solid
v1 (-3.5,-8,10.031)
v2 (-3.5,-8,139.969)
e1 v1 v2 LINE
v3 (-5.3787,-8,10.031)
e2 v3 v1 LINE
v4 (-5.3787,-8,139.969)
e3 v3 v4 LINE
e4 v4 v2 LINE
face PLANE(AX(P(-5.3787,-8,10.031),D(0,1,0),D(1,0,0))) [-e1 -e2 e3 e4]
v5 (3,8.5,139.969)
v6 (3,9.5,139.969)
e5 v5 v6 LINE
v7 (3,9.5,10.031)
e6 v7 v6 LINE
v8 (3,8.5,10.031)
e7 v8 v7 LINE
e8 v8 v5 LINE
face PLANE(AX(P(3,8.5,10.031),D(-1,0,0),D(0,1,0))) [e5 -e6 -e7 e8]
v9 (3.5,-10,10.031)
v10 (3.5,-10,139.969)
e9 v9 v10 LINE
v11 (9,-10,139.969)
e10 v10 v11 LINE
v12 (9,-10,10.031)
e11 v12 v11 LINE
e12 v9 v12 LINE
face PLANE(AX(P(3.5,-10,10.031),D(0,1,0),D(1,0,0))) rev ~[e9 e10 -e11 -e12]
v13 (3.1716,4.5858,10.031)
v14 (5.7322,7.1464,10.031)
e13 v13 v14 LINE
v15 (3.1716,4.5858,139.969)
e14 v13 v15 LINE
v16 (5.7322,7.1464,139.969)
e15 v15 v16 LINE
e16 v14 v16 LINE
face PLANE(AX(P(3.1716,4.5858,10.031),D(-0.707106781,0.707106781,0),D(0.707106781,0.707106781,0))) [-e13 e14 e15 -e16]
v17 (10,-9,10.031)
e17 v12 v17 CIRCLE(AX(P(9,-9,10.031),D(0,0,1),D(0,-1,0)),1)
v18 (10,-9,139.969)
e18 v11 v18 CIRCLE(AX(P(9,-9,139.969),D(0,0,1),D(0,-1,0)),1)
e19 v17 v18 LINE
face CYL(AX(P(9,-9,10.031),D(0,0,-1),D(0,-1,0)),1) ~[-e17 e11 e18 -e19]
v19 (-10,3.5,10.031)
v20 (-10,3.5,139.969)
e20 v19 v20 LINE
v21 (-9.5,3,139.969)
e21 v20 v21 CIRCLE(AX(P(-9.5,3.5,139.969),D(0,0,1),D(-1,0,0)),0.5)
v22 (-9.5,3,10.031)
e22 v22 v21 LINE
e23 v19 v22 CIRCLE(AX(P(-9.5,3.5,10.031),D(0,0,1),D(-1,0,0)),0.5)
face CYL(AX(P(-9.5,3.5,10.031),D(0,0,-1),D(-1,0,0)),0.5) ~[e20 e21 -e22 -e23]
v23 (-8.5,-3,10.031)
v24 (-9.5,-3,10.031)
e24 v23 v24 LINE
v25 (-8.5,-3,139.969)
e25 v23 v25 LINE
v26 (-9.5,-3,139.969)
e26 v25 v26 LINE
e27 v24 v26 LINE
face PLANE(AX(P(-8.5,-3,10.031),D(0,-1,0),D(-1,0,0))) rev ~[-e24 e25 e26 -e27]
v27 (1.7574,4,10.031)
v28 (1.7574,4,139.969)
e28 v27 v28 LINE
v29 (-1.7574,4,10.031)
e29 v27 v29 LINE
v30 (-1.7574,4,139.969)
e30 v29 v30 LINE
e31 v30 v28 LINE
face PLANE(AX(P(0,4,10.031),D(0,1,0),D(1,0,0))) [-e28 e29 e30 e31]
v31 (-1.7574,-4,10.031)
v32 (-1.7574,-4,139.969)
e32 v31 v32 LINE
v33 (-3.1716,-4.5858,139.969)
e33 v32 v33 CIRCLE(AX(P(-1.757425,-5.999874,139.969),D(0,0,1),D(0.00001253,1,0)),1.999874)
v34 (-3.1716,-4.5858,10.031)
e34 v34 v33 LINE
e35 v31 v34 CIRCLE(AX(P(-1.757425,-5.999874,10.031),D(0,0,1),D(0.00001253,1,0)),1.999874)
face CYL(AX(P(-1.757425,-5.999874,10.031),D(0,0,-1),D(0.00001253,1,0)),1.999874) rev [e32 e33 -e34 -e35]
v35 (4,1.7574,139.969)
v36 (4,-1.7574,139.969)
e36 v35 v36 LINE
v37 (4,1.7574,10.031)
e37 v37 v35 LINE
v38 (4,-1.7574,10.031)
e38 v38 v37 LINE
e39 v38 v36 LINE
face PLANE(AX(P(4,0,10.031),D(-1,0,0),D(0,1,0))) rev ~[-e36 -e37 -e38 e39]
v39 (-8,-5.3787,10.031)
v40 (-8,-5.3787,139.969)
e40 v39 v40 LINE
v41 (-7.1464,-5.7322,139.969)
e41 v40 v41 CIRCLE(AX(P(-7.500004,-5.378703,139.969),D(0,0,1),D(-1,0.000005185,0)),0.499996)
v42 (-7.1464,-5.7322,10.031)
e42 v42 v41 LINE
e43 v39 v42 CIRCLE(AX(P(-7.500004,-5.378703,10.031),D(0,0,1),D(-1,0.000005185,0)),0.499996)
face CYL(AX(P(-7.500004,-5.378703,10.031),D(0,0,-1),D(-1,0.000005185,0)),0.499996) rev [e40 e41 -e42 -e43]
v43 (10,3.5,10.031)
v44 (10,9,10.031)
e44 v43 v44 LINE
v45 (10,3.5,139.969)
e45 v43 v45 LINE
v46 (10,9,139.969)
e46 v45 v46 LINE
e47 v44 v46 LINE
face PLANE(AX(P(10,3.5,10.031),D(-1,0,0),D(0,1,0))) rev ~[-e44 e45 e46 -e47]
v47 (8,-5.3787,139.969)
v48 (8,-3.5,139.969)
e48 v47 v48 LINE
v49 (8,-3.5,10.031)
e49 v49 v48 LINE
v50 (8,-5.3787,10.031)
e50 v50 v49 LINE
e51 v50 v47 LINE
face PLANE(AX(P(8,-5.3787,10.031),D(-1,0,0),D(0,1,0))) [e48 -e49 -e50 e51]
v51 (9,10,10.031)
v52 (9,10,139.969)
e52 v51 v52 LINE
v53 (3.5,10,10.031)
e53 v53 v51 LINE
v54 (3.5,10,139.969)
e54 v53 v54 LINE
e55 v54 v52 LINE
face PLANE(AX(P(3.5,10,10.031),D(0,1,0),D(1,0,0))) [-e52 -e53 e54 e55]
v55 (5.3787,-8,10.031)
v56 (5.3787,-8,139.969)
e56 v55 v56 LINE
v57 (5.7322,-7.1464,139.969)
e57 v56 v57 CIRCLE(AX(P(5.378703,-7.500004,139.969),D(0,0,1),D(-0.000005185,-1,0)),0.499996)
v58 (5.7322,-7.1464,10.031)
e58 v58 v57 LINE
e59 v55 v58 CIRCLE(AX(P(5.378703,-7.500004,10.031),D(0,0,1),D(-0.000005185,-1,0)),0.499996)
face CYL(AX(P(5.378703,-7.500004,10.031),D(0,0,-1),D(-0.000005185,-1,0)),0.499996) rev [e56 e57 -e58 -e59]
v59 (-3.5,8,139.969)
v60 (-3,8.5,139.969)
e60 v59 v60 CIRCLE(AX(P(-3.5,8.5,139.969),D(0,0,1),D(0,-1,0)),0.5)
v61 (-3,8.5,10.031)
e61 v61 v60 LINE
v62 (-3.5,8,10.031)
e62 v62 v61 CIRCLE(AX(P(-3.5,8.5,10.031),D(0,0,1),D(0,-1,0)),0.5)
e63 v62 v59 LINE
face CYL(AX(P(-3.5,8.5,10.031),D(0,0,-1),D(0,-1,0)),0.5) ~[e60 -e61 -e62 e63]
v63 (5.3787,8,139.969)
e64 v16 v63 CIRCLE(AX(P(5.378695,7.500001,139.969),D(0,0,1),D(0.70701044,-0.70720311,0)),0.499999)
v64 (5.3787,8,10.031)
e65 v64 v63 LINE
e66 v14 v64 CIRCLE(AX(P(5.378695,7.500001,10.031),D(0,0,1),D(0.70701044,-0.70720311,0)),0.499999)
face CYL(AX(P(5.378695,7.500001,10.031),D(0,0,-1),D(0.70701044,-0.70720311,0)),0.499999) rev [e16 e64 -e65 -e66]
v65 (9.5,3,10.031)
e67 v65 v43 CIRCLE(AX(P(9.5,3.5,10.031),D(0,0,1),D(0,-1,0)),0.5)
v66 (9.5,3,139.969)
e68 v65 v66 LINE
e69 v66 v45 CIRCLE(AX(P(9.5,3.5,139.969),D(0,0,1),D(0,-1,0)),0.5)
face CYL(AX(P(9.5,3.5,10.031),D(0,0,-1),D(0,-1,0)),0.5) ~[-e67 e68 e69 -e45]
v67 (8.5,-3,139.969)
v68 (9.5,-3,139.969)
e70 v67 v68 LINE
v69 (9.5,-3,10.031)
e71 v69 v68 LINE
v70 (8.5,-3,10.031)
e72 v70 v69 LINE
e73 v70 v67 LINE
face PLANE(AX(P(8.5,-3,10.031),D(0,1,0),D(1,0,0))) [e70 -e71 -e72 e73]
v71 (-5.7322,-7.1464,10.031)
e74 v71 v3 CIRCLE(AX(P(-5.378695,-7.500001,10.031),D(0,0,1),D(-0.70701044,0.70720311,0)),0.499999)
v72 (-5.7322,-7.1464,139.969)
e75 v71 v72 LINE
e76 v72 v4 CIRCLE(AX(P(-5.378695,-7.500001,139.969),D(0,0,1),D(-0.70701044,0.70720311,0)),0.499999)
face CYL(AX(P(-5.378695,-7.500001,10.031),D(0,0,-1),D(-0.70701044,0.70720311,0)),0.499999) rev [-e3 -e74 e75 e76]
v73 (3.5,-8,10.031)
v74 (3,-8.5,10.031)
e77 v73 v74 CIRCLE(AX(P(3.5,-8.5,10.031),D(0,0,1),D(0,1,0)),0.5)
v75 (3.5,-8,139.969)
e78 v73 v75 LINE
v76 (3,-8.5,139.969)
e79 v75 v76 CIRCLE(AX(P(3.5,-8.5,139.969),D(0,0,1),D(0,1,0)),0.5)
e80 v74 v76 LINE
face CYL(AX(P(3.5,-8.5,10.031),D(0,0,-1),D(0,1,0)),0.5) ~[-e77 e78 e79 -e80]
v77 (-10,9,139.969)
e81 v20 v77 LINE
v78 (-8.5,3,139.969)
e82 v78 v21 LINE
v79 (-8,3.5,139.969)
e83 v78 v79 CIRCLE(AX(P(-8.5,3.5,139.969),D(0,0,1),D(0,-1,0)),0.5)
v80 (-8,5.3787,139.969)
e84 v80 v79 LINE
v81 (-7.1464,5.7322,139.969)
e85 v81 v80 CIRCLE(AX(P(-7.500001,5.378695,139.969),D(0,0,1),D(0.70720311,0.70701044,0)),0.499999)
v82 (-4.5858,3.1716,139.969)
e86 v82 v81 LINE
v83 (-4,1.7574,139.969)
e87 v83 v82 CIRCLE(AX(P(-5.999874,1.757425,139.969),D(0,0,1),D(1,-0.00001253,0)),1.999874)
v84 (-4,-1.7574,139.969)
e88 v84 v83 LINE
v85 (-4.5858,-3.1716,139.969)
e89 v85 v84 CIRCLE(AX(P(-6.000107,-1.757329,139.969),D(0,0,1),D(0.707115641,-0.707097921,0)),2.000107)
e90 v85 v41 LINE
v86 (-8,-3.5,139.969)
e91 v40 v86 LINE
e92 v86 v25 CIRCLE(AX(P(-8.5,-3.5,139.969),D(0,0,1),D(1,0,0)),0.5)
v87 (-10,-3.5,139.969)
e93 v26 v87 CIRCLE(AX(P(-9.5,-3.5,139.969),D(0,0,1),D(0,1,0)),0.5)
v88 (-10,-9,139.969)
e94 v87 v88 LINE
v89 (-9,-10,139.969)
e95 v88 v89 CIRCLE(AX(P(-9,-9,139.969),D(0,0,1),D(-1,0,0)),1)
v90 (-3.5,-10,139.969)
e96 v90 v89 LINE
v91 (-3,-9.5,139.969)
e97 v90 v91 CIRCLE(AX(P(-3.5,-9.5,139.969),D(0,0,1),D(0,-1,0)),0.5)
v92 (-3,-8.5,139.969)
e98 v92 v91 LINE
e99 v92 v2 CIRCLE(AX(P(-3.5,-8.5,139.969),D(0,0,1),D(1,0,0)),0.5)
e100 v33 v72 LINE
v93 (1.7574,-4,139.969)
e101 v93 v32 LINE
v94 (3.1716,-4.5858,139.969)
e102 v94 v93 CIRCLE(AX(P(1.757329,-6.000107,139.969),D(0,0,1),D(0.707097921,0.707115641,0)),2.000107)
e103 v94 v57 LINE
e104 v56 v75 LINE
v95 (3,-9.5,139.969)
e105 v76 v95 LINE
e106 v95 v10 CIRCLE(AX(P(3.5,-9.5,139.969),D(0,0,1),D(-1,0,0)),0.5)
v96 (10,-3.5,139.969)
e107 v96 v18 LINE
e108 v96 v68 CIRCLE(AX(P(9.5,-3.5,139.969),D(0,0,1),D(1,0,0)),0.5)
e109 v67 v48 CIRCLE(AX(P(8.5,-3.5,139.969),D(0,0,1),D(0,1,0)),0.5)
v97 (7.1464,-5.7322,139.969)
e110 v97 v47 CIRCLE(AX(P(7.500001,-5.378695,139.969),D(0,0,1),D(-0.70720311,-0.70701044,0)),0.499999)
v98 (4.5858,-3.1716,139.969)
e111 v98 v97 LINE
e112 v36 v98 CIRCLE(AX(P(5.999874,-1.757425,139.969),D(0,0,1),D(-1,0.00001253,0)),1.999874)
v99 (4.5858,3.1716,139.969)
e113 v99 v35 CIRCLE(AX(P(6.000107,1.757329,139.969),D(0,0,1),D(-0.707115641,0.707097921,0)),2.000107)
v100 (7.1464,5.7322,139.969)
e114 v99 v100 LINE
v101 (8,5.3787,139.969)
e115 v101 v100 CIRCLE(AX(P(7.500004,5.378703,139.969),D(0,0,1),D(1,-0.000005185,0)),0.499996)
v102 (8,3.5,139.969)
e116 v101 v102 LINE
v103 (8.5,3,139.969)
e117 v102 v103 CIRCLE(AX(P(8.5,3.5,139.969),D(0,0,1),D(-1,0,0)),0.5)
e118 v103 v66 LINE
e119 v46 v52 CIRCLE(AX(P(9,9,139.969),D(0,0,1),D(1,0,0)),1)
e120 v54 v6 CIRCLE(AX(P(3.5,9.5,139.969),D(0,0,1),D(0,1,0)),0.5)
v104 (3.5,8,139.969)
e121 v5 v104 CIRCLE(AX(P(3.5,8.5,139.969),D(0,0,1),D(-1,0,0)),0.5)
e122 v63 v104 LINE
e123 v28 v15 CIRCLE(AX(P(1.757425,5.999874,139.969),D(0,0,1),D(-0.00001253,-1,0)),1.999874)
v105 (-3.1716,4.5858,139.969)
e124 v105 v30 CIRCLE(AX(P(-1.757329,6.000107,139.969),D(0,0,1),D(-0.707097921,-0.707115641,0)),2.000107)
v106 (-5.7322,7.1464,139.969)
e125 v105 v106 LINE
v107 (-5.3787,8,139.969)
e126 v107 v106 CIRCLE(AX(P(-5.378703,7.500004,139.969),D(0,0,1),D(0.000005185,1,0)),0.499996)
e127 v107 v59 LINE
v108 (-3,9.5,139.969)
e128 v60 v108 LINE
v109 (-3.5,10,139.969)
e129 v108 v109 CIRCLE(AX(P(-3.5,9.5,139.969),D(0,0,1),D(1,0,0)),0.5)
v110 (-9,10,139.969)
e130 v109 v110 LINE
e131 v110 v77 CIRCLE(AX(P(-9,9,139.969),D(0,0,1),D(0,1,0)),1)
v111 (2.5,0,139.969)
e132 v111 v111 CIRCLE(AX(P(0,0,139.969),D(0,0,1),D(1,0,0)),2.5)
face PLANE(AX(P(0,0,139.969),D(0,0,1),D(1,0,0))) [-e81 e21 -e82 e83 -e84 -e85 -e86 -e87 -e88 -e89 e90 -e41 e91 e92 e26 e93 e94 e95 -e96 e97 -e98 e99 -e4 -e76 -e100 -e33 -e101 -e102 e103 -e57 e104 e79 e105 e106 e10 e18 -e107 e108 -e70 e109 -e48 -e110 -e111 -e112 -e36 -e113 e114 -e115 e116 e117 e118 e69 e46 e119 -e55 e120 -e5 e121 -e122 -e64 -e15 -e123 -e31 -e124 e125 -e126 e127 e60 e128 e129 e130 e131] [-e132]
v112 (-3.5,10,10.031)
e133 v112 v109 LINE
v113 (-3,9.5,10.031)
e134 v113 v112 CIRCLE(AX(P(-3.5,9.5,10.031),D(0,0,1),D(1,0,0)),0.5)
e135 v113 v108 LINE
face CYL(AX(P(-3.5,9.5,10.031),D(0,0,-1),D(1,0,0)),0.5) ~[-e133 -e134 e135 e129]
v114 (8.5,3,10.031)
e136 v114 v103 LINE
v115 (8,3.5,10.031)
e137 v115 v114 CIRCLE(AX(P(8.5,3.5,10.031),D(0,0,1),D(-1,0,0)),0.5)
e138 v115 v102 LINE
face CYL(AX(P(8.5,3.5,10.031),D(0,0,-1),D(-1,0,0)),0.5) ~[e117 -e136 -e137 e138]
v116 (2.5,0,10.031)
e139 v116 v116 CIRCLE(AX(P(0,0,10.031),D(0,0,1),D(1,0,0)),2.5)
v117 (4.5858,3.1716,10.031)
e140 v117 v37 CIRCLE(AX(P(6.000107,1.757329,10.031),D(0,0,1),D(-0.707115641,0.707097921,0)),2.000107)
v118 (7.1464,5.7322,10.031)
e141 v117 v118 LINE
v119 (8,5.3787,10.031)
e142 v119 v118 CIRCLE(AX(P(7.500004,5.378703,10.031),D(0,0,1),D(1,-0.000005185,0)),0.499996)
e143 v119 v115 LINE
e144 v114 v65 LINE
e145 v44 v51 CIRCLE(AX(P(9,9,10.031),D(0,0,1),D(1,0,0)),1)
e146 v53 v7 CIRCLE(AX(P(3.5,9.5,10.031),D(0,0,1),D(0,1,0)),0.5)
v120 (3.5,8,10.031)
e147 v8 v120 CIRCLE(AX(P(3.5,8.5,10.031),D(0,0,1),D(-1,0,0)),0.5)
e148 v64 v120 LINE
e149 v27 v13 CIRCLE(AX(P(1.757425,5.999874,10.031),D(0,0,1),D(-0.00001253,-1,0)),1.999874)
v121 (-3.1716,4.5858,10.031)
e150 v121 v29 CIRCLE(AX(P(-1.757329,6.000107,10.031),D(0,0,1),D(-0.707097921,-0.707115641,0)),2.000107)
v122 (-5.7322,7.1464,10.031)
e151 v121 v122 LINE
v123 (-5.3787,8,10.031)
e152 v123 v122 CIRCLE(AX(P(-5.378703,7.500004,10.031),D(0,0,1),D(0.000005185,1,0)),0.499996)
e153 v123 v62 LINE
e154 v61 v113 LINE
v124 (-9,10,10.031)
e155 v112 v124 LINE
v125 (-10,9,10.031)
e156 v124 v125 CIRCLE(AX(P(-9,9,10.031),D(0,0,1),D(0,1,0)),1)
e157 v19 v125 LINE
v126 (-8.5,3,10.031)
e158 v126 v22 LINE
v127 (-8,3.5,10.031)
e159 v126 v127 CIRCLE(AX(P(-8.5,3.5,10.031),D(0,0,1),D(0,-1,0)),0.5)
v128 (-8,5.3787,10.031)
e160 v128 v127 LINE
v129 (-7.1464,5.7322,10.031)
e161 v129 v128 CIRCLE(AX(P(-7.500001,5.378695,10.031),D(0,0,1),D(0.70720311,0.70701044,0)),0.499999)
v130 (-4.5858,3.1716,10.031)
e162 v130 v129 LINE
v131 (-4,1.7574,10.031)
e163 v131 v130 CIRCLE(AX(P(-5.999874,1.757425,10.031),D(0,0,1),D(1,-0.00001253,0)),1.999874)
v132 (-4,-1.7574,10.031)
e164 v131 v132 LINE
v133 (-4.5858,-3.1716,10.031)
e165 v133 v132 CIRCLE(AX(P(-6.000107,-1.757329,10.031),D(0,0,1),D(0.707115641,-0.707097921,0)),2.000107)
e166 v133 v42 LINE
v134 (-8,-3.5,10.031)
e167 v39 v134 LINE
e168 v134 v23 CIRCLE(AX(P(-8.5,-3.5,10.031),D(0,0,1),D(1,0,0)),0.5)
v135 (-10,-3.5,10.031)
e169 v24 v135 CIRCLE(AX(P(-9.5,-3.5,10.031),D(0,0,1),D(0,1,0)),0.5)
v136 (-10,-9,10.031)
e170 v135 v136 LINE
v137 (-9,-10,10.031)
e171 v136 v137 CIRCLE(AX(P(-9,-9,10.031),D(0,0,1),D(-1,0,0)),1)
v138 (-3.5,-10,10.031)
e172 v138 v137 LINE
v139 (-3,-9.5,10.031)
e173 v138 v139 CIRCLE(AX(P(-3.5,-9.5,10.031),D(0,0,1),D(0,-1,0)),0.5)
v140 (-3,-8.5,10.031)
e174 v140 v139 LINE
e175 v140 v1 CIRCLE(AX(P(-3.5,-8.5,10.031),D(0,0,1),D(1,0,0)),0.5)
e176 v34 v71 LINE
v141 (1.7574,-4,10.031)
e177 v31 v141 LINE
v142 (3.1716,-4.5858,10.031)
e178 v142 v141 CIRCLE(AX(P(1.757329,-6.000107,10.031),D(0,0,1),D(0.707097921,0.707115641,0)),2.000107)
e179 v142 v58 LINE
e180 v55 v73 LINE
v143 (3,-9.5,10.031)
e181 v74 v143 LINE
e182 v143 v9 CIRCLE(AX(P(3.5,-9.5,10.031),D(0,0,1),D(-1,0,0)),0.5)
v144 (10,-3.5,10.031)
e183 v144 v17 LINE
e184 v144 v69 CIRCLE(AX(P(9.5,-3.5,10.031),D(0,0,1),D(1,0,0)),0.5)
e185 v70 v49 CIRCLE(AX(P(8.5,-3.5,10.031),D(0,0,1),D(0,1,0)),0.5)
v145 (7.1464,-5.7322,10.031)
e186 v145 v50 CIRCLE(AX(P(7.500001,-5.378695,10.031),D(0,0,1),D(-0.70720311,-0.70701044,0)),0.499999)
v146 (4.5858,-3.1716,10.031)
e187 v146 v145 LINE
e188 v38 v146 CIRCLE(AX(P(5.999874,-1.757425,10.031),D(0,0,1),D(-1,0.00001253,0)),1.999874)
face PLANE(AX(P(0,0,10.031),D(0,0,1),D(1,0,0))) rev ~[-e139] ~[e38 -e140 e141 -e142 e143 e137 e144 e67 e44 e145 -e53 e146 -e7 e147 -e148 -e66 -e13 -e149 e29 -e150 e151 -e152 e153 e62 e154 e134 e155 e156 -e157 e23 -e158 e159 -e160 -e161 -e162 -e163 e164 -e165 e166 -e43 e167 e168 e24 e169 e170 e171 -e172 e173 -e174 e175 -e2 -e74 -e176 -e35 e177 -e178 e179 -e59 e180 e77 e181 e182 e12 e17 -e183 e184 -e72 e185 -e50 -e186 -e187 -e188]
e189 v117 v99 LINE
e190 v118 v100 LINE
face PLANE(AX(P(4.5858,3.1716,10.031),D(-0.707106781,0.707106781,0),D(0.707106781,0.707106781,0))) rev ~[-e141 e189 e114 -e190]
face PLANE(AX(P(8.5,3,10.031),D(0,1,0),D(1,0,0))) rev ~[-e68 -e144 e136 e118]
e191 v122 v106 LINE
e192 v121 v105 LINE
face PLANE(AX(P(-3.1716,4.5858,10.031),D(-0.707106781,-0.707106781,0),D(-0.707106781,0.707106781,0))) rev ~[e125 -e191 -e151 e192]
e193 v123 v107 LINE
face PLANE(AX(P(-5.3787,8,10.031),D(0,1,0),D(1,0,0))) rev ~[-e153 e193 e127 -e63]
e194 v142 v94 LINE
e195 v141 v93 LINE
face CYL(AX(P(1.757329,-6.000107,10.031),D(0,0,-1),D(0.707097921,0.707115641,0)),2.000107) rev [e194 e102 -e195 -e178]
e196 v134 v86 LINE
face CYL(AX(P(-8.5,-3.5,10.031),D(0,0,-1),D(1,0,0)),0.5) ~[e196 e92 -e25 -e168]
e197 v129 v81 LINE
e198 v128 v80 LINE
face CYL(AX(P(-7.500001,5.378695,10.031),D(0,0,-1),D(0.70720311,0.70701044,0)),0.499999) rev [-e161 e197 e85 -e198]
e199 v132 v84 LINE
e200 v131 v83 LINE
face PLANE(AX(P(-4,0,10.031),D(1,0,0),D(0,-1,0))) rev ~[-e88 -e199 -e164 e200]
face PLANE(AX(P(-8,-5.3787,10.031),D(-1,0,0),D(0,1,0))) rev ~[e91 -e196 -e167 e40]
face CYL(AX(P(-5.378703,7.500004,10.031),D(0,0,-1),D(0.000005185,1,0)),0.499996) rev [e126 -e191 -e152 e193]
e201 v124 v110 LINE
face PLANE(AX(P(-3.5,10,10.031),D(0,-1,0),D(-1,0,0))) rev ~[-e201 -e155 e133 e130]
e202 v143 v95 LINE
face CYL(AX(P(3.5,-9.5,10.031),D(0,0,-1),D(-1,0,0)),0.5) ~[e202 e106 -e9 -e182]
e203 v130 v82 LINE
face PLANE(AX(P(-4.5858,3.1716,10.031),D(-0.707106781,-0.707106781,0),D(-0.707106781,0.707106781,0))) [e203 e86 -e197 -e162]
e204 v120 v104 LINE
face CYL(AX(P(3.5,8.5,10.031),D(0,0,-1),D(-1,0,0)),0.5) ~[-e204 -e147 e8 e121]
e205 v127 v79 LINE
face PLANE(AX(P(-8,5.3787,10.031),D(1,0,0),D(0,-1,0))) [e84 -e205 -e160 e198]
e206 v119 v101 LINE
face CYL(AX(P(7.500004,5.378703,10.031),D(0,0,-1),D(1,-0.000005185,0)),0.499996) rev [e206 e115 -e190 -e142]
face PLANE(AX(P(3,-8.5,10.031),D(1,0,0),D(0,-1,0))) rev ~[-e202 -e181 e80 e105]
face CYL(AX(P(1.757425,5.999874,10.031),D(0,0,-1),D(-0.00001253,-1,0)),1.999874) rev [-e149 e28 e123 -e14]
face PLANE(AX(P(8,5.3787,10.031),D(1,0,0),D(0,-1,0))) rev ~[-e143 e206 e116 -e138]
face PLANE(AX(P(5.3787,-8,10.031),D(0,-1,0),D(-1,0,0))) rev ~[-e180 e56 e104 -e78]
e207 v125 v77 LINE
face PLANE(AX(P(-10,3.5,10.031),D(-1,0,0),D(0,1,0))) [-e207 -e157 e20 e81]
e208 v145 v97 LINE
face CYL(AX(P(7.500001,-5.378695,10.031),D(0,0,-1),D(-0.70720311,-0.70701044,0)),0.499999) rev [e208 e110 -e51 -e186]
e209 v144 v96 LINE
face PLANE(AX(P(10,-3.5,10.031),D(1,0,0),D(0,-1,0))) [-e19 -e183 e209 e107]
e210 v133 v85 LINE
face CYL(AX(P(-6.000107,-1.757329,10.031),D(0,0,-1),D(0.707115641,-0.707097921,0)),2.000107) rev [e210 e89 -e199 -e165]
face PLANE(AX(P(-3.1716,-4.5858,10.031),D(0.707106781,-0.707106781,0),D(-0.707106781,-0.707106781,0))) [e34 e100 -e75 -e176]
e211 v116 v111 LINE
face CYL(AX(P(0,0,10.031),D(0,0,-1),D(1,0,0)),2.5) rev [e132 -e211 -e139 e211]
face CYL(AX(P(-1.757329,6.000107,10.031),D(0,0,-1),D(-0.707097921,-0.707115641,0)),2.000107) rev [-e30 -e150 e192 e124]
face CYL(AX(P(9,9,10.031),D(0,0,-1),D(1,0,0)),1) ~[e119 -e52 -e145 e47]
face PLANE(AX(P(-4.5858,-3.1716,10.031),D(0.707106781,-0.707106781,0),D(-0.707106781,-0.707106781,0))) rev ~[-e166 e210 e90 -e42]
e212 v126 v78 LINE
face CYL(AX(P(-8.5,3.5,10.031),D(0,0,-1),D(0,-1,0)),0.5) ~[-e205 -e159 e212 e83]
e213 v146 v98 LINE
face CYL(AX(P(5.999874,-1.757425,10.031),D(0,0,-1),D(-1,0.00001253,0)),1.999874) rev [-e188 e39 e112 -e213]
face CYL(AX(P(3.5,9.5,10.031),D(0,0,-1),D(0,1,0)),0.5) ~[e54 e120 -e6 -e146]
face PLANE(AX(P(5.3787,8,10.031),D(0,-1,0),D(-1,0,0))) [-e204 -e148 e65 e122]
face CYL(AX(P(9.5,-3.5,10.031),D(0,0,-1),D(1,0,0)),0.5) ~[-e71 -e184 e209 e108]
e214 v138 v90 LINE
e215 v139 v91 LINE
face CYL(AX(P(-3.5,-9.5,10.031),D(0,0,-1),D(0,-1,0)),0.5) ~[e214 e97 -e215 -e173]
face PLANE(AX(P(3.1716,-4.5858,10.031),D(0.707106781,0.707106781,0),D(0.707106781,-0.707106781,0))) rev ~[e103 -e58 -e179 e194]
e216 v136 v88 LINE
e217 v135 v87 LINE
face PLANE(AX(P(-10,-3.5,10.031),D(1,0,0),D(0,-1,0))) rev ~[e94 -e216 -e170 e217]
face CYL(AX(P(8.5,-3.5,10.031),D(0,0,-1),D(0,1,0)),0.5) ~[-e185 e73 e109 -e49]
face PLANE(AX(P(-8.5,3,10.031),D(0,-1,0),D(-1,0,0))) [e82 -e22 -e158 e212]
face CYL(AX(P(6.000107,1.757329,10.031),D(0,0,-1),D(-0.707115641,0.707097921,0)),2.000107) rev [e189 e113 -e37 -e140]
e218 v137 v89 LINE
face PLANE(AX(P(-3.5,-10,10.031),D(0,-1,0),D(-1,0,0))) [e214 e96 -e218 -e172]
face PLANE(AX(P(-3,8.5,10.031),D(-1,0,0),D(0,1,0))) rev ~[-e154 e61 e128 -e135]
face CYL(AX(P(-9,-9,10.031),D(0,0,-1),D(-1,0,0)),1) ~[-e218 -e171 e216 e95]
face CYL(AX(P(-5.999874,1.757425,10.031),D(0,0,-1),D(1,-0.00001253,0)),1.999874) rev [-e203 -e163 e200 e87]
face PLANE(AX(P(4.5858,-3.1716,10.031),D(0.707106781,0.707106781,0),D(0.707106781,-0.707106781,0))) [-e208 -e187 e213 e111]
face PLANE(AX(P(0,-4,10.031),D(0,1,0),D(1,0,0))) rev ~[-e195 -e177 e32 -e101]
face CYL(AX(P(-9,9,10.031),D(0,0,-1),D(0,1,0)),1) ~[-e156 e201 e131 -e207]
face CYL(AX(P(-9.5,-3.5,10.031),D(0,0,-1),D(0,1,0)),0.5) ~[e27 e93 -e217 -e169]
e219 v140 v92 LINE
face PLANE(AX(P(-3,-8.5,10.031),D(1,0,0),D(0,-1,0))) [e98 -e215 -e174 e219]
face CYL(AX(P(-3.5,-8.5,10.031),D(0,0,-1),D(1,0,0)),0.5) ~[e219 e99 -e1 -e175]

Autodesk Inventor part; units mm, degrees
ref_plane "Start Plane" through (0, 0, 10.031) normal (0, 0, 1) x (1, 0, 0)
ref_plane "End Plane" through (0, 0, 139.969) normal (0, 0, 1) x (1, 0, 0)
sketch "Sketch" plane through (0, 0, 0) normal (0, 0, 1) x (1, 0, 0)
  line L0 (0, 0) -> (2.5, 0) construction
  line L1 (0, 0) -> (0, 2.5) construction
  line L2 (0, 4) -> (0, -4) construction
  line L3 (0, 4) -> (1.7574, 4)
  arc A0 (1.7574, 4) -> (3.1716, 4.5858) centre (1.7574, 6) ccw
  line L4 (3.1716, 4.5858) -> (5.7322, 7.1464)
  line L5 (-4, 0) -> (4, 0) construction
  line L6 (4, 0) -> (4, 1.7574)
  arc A1 (4.5858, 3.1716) -> (4, 1.7574) centre (6, 1.7574) ccw
  line L7 (4.5858, 3.1716) -> (7.1464, 5.7322)
  line L8 (0, 0) -> (10, 10) construction
  line L9 (0, 0) -> (19.6827, 0) construction
  arc A2 (8, 5.3787) -> (7.1464, 5.7322) centre (7.5, 5.3787) ccw
  line L10 (8, 5.3787) -> (8, 3.5)
  arc A3 (8, 3.5) -> (8.5, 3) centre (8.5, 3.5) ccw
  line L11 (8.5, 3) -> (9.5, 3)
  arc A4 (9.5, 3) -> (10, 3.5) centre (9.5, 3.5) ccw
  line L12 (10, 3.5) -> (10, 9)
  line L13 (10, 9) -> (10, 10) construction
  arc A5 (5.7322, 7.1464) -> (5.3787, 8) centre (5.3787, 7.5) ccw
  line L14 (5.3787, 8) -> (3.5, 8)
  arc A6 (3, 8.5) -> (3.5, 8) centre (3.5, 8.5) ccw
  line L15 (3, 8.5) -> (3, 9.5)
  arc A7 (3.5, 10) -> (3, 9.5) centre (3.5, 9.5) ccw
  line L16 (3.5, 10) -> (9, 10)
  arc A8 (10, 9) -> (9, 10) centre (9, 9) ccw
  line L17 (0, 4) -> (-1.7574, 4)
  arc A9 (-3.1716, 4.5858) -> (-1.7574, 4) centre (-1.7574, 6) ccw
  line L18 (-3.1716, 4.5858) -> (-5.7322, 7.1464)
  line L19 (-4, 0) -> (-4, 1.7574)
  arc A10 (-4, 1.7574) -> (-4.5858, 3.1716) centre (-6, 1.7574) ccw
  line L20 (-4.5858, 3.1716) -> (-7.1464, 5.7322)
  arc A11 (-7.1464, 5.7322) -> (-8, 5.3787) centre (-7.5, 5.3787) ccw
  line L21 (-8, 5.3787) -> (-8, 3.5)
  arc A12 (-8.5, 3) -> (-8, 3.5) centre (-8.5, 3.5) ccw
  line L22 (-8.5, 3) -> (-9.5, 3)
  arc A13 (-10, 3.5) -> (-9.5, 3) centre (-9.5, 3.5) ccw
  line L23 (-10, 3.5) -> (-10, 9)
  arc A14 (-5.3787, 8) -> (-5.7322, 7.1464) centre (-5.3787, 7.5) ccw
  line L24 (-5.3787, 8) -> (-3.5, 8)
  arc A15 (-3.5, 8) -> (-3, 8.5) centre (-3.5, 8.5) ccw
  line L25 (-3, 8.5) -> (-3, 9.5)
  arc A16 (-3, 9.5) -> (-3.5, 10) centre (-3.5, 9.5) ccw
  line L26 (-3.5, 10) -> (-9, 10)
  arc A17 (-9, 10) -> (-10, 9) centre (-9, 9) ccw
  line L27 (0, -4) -> (-1.7574, -4)
  arc A18 (-1.7574, -4) -> (-3.1716, -4.5858) centre (-1.7574, -6) ccw
  line L28 (-3.1716, -4.5858) -> (-5.7322, -7.1464)
  arc A19 (-5.7322, -7.1464) -> (-5.3787, -8) centre (-5.3787, -7.5) ccw
  line L29 (-5.3787, -8) -> (-3.5, -8)
  arc A20 (-3, -8.5) -> (-3.5, -8) centre (-3.5, -8.5) ccw
  line L30 (-3, -8.5) -> (-3, -9.5)
  arc A21 (-3.5, -10) -> (-3, -9.5) centre (-3.5, -9.5) ccw
  line L31 (-3.5, -10) -> (-9, -10)
  arc A22 (-10, -9) -> (-9, -10) centre (-9, -9) ccw
  line L32 (-10, -3.5) -> (-10, -9)
  arc A23 (-9.5, -3) -> (-10, -3.5) centre (-9.5, -3.5) ccw
  line L33 (-8.5, -3) -> (-9.5, -3)
  arc A24 (-8, -3.5) -> (-8.5, -3) centre (-8.5, -3.5) ccw
  line L34 (-8, -5.3787) -> (-8, -3.5)
  arc A25 (-8, -5.3787) -> (-7.1464, -5.7322) centre (-7.5, -5.3787) ccw
  line L35 (-4.5858, -3.1716) -> (-7.1464, -5.7322)
  arc A26 (-4.5858, -3.1716) -> (-4, -1.7574) centre (-6, -1.7574) ccw
  line L36 (-4, 0) -> (-4, -1.7574)
  line L37 (3.5, -10) -> (9, -10)
  arc A27 (9, -10) -> (10, -9) centre (9, -9) ccw
  line L38 (10, -3.5) -> (10, -9)
  arc A28 (10, -3.5) -> (9.5, -3) centre (9.5, -3.5) ccw
  line L39 (8.5, -3) -> (9.5, -3)
  arc A29 (8.5, -3) -> (8, -3.5) centre (8.5, -3.5) ccw
  line L40 (8, -5.3787) -> (8, -3.5)
  arc A30 (7.1464, -5.7322) -> (8, -5.3787) centre (7.5, -5.3787) ccw
  line L41 (4.5858, -3.1716) -> (7.1464, -5.7322)
  arc A31 (4, -1.7574) -> (4.5858, -3.1716) centre (6, -1.7574) ccw
  line L42 (4, 0) -> (4, -1.7574)
  line L43 (5.3787, -8) -> (3.5, -8)
  arc A32 (5.3787, -8) -> (5.7322, -7.1464) centre (5.3787, -7.5) ccw
  line L44 (3.1716, -4.5858) -> (5.7322, -7.1464)
  arc A33 (3.1716, -4.5858) -> (1.7574, -4) centre (1.7574, -6) ccw
  line L45 (0, -4) -> (1.7574, -4)
  arc A34 (3.5, -8) -> (3, -8.5) centre (3.5, -8.5) ccw
  line L46 (3, -8.5) -> (3, -9.5)
  arc A35 (3, -9.5) -> (3.5, -10) centre (3.5, -9.5) ccw
  circle A36 centre (0, 0) radius 2.5
  dimension "d1" = 8
  dimension "d2" = 2
  dimension "d3" = 8
  dimension "d4" = 2
  dimension "d5" = 2
  dimension "d7" = 45
  dimension "d8" = 0.5
  dimension "d9" = 0.5
  dimension "d10" = 0.5
  dimension "d12" = 2
  dimension "d17" = 7
  dimension "d18" = 10
  dimension "d19" = 0.5
  dimension "d20" = 1
  dimension "d21" = 0.5
  dimension "d22" = 0.5
  dimension "d23" = 2
  dimension "d24" = 7
  dimension "d25" = 5
extrude "Body" add sketch "Sketch" along normal up to surface (129.938 mm away) from surface at 10.031
sketch "Sketch6" plane through (0, 0, 0) normal (0, 0, 1) x (1, 0, 0)
  line L0 (0, 0) -> (10, 0)
ref_plane "Work Plane5" through (0, 0, 0) normal (0, -1, 0) x (1, 0, 0)
sketch "Sketch7" plane through (0, 0, 0) normal (0, -1, 0) x (1, 0, 0)
  line L0 (-2, 10.031) -> (12, 10.031)
  line L1 (-2, 139.969) -> (12, 139.969)
  dimension "d33" = 129.938
ref_plane "Work Plane6" through (-500, 9, 10.031) normal (0, 0, -1) x (-1, 0, 0)
split "Split1" plane through (-500, 9, 10.031) removes the side toward (0, 0, -1)
ref_plane "Work Plane7" through (0, 9, 139.969) normal (0, 0, 1) x (1, 0, 0)
split "Split2" plane through (0, 9, 139.969) removes the side toward (0, 0, 1)
ref_plane "Work Plane8" through (-500, 0, 10.031) normal (0, 0, -1) x (-1, 0, 0)
split "Split3" plane through (-500, 0, 10.031) removes the side toward (0, 0, -1)
ref_plane "Work Plane9" through (0, 0, 139.969) normal (0, 0, 1) x (1, 0, 0)
split "Split4" plane through (0, 0, 139.969) removes the side toward (0, 0, 1)
equation "\"d1\" = 8 * sigma"
equation "\"d2\" = 2 * sigma"
equation "\"d3\" = 8 * sigma"
equation "\"d4\" = 2 * sigma"
equation "\"d5\" = 2 * sigma"
equation "\"d8\" = 0.5 * sigma"
equation "\"d9\" = 0.5 * sigma"
equation "\"d10\" = 0.5 * sigma"
equation "\"d12\" = 2 * sigma"
equation "\"d17\" = 7 * sigma"
equation "\"d18\" = sigma"
equation "\"d19\" = 0.5 * sigma"
equation "\"d20\" = sigma"
equation "\"d21\" = 0.5 * sigma"
equation "\"d22\" = 0.5 * sigma"
equation "\"d23\" = 2 * sigma"
equation "\"d24\" = 7 * sigma"
equation "\"d25\" = 5 * sigma"
equation "\"sigma\" = 1"
equation "\"G_OFFSET_START\" = -10.031"
equation "\"G_OFFSET_END\" = -10.031"
equation "\"d28\" = -G_OFFSET_START"
equation "\"d29\" = Length + G_OFFSET_END"
equation "\"G_L\" = d33"
equation "\"Length\" = 150"
properties part number "A3.3-MEM"
